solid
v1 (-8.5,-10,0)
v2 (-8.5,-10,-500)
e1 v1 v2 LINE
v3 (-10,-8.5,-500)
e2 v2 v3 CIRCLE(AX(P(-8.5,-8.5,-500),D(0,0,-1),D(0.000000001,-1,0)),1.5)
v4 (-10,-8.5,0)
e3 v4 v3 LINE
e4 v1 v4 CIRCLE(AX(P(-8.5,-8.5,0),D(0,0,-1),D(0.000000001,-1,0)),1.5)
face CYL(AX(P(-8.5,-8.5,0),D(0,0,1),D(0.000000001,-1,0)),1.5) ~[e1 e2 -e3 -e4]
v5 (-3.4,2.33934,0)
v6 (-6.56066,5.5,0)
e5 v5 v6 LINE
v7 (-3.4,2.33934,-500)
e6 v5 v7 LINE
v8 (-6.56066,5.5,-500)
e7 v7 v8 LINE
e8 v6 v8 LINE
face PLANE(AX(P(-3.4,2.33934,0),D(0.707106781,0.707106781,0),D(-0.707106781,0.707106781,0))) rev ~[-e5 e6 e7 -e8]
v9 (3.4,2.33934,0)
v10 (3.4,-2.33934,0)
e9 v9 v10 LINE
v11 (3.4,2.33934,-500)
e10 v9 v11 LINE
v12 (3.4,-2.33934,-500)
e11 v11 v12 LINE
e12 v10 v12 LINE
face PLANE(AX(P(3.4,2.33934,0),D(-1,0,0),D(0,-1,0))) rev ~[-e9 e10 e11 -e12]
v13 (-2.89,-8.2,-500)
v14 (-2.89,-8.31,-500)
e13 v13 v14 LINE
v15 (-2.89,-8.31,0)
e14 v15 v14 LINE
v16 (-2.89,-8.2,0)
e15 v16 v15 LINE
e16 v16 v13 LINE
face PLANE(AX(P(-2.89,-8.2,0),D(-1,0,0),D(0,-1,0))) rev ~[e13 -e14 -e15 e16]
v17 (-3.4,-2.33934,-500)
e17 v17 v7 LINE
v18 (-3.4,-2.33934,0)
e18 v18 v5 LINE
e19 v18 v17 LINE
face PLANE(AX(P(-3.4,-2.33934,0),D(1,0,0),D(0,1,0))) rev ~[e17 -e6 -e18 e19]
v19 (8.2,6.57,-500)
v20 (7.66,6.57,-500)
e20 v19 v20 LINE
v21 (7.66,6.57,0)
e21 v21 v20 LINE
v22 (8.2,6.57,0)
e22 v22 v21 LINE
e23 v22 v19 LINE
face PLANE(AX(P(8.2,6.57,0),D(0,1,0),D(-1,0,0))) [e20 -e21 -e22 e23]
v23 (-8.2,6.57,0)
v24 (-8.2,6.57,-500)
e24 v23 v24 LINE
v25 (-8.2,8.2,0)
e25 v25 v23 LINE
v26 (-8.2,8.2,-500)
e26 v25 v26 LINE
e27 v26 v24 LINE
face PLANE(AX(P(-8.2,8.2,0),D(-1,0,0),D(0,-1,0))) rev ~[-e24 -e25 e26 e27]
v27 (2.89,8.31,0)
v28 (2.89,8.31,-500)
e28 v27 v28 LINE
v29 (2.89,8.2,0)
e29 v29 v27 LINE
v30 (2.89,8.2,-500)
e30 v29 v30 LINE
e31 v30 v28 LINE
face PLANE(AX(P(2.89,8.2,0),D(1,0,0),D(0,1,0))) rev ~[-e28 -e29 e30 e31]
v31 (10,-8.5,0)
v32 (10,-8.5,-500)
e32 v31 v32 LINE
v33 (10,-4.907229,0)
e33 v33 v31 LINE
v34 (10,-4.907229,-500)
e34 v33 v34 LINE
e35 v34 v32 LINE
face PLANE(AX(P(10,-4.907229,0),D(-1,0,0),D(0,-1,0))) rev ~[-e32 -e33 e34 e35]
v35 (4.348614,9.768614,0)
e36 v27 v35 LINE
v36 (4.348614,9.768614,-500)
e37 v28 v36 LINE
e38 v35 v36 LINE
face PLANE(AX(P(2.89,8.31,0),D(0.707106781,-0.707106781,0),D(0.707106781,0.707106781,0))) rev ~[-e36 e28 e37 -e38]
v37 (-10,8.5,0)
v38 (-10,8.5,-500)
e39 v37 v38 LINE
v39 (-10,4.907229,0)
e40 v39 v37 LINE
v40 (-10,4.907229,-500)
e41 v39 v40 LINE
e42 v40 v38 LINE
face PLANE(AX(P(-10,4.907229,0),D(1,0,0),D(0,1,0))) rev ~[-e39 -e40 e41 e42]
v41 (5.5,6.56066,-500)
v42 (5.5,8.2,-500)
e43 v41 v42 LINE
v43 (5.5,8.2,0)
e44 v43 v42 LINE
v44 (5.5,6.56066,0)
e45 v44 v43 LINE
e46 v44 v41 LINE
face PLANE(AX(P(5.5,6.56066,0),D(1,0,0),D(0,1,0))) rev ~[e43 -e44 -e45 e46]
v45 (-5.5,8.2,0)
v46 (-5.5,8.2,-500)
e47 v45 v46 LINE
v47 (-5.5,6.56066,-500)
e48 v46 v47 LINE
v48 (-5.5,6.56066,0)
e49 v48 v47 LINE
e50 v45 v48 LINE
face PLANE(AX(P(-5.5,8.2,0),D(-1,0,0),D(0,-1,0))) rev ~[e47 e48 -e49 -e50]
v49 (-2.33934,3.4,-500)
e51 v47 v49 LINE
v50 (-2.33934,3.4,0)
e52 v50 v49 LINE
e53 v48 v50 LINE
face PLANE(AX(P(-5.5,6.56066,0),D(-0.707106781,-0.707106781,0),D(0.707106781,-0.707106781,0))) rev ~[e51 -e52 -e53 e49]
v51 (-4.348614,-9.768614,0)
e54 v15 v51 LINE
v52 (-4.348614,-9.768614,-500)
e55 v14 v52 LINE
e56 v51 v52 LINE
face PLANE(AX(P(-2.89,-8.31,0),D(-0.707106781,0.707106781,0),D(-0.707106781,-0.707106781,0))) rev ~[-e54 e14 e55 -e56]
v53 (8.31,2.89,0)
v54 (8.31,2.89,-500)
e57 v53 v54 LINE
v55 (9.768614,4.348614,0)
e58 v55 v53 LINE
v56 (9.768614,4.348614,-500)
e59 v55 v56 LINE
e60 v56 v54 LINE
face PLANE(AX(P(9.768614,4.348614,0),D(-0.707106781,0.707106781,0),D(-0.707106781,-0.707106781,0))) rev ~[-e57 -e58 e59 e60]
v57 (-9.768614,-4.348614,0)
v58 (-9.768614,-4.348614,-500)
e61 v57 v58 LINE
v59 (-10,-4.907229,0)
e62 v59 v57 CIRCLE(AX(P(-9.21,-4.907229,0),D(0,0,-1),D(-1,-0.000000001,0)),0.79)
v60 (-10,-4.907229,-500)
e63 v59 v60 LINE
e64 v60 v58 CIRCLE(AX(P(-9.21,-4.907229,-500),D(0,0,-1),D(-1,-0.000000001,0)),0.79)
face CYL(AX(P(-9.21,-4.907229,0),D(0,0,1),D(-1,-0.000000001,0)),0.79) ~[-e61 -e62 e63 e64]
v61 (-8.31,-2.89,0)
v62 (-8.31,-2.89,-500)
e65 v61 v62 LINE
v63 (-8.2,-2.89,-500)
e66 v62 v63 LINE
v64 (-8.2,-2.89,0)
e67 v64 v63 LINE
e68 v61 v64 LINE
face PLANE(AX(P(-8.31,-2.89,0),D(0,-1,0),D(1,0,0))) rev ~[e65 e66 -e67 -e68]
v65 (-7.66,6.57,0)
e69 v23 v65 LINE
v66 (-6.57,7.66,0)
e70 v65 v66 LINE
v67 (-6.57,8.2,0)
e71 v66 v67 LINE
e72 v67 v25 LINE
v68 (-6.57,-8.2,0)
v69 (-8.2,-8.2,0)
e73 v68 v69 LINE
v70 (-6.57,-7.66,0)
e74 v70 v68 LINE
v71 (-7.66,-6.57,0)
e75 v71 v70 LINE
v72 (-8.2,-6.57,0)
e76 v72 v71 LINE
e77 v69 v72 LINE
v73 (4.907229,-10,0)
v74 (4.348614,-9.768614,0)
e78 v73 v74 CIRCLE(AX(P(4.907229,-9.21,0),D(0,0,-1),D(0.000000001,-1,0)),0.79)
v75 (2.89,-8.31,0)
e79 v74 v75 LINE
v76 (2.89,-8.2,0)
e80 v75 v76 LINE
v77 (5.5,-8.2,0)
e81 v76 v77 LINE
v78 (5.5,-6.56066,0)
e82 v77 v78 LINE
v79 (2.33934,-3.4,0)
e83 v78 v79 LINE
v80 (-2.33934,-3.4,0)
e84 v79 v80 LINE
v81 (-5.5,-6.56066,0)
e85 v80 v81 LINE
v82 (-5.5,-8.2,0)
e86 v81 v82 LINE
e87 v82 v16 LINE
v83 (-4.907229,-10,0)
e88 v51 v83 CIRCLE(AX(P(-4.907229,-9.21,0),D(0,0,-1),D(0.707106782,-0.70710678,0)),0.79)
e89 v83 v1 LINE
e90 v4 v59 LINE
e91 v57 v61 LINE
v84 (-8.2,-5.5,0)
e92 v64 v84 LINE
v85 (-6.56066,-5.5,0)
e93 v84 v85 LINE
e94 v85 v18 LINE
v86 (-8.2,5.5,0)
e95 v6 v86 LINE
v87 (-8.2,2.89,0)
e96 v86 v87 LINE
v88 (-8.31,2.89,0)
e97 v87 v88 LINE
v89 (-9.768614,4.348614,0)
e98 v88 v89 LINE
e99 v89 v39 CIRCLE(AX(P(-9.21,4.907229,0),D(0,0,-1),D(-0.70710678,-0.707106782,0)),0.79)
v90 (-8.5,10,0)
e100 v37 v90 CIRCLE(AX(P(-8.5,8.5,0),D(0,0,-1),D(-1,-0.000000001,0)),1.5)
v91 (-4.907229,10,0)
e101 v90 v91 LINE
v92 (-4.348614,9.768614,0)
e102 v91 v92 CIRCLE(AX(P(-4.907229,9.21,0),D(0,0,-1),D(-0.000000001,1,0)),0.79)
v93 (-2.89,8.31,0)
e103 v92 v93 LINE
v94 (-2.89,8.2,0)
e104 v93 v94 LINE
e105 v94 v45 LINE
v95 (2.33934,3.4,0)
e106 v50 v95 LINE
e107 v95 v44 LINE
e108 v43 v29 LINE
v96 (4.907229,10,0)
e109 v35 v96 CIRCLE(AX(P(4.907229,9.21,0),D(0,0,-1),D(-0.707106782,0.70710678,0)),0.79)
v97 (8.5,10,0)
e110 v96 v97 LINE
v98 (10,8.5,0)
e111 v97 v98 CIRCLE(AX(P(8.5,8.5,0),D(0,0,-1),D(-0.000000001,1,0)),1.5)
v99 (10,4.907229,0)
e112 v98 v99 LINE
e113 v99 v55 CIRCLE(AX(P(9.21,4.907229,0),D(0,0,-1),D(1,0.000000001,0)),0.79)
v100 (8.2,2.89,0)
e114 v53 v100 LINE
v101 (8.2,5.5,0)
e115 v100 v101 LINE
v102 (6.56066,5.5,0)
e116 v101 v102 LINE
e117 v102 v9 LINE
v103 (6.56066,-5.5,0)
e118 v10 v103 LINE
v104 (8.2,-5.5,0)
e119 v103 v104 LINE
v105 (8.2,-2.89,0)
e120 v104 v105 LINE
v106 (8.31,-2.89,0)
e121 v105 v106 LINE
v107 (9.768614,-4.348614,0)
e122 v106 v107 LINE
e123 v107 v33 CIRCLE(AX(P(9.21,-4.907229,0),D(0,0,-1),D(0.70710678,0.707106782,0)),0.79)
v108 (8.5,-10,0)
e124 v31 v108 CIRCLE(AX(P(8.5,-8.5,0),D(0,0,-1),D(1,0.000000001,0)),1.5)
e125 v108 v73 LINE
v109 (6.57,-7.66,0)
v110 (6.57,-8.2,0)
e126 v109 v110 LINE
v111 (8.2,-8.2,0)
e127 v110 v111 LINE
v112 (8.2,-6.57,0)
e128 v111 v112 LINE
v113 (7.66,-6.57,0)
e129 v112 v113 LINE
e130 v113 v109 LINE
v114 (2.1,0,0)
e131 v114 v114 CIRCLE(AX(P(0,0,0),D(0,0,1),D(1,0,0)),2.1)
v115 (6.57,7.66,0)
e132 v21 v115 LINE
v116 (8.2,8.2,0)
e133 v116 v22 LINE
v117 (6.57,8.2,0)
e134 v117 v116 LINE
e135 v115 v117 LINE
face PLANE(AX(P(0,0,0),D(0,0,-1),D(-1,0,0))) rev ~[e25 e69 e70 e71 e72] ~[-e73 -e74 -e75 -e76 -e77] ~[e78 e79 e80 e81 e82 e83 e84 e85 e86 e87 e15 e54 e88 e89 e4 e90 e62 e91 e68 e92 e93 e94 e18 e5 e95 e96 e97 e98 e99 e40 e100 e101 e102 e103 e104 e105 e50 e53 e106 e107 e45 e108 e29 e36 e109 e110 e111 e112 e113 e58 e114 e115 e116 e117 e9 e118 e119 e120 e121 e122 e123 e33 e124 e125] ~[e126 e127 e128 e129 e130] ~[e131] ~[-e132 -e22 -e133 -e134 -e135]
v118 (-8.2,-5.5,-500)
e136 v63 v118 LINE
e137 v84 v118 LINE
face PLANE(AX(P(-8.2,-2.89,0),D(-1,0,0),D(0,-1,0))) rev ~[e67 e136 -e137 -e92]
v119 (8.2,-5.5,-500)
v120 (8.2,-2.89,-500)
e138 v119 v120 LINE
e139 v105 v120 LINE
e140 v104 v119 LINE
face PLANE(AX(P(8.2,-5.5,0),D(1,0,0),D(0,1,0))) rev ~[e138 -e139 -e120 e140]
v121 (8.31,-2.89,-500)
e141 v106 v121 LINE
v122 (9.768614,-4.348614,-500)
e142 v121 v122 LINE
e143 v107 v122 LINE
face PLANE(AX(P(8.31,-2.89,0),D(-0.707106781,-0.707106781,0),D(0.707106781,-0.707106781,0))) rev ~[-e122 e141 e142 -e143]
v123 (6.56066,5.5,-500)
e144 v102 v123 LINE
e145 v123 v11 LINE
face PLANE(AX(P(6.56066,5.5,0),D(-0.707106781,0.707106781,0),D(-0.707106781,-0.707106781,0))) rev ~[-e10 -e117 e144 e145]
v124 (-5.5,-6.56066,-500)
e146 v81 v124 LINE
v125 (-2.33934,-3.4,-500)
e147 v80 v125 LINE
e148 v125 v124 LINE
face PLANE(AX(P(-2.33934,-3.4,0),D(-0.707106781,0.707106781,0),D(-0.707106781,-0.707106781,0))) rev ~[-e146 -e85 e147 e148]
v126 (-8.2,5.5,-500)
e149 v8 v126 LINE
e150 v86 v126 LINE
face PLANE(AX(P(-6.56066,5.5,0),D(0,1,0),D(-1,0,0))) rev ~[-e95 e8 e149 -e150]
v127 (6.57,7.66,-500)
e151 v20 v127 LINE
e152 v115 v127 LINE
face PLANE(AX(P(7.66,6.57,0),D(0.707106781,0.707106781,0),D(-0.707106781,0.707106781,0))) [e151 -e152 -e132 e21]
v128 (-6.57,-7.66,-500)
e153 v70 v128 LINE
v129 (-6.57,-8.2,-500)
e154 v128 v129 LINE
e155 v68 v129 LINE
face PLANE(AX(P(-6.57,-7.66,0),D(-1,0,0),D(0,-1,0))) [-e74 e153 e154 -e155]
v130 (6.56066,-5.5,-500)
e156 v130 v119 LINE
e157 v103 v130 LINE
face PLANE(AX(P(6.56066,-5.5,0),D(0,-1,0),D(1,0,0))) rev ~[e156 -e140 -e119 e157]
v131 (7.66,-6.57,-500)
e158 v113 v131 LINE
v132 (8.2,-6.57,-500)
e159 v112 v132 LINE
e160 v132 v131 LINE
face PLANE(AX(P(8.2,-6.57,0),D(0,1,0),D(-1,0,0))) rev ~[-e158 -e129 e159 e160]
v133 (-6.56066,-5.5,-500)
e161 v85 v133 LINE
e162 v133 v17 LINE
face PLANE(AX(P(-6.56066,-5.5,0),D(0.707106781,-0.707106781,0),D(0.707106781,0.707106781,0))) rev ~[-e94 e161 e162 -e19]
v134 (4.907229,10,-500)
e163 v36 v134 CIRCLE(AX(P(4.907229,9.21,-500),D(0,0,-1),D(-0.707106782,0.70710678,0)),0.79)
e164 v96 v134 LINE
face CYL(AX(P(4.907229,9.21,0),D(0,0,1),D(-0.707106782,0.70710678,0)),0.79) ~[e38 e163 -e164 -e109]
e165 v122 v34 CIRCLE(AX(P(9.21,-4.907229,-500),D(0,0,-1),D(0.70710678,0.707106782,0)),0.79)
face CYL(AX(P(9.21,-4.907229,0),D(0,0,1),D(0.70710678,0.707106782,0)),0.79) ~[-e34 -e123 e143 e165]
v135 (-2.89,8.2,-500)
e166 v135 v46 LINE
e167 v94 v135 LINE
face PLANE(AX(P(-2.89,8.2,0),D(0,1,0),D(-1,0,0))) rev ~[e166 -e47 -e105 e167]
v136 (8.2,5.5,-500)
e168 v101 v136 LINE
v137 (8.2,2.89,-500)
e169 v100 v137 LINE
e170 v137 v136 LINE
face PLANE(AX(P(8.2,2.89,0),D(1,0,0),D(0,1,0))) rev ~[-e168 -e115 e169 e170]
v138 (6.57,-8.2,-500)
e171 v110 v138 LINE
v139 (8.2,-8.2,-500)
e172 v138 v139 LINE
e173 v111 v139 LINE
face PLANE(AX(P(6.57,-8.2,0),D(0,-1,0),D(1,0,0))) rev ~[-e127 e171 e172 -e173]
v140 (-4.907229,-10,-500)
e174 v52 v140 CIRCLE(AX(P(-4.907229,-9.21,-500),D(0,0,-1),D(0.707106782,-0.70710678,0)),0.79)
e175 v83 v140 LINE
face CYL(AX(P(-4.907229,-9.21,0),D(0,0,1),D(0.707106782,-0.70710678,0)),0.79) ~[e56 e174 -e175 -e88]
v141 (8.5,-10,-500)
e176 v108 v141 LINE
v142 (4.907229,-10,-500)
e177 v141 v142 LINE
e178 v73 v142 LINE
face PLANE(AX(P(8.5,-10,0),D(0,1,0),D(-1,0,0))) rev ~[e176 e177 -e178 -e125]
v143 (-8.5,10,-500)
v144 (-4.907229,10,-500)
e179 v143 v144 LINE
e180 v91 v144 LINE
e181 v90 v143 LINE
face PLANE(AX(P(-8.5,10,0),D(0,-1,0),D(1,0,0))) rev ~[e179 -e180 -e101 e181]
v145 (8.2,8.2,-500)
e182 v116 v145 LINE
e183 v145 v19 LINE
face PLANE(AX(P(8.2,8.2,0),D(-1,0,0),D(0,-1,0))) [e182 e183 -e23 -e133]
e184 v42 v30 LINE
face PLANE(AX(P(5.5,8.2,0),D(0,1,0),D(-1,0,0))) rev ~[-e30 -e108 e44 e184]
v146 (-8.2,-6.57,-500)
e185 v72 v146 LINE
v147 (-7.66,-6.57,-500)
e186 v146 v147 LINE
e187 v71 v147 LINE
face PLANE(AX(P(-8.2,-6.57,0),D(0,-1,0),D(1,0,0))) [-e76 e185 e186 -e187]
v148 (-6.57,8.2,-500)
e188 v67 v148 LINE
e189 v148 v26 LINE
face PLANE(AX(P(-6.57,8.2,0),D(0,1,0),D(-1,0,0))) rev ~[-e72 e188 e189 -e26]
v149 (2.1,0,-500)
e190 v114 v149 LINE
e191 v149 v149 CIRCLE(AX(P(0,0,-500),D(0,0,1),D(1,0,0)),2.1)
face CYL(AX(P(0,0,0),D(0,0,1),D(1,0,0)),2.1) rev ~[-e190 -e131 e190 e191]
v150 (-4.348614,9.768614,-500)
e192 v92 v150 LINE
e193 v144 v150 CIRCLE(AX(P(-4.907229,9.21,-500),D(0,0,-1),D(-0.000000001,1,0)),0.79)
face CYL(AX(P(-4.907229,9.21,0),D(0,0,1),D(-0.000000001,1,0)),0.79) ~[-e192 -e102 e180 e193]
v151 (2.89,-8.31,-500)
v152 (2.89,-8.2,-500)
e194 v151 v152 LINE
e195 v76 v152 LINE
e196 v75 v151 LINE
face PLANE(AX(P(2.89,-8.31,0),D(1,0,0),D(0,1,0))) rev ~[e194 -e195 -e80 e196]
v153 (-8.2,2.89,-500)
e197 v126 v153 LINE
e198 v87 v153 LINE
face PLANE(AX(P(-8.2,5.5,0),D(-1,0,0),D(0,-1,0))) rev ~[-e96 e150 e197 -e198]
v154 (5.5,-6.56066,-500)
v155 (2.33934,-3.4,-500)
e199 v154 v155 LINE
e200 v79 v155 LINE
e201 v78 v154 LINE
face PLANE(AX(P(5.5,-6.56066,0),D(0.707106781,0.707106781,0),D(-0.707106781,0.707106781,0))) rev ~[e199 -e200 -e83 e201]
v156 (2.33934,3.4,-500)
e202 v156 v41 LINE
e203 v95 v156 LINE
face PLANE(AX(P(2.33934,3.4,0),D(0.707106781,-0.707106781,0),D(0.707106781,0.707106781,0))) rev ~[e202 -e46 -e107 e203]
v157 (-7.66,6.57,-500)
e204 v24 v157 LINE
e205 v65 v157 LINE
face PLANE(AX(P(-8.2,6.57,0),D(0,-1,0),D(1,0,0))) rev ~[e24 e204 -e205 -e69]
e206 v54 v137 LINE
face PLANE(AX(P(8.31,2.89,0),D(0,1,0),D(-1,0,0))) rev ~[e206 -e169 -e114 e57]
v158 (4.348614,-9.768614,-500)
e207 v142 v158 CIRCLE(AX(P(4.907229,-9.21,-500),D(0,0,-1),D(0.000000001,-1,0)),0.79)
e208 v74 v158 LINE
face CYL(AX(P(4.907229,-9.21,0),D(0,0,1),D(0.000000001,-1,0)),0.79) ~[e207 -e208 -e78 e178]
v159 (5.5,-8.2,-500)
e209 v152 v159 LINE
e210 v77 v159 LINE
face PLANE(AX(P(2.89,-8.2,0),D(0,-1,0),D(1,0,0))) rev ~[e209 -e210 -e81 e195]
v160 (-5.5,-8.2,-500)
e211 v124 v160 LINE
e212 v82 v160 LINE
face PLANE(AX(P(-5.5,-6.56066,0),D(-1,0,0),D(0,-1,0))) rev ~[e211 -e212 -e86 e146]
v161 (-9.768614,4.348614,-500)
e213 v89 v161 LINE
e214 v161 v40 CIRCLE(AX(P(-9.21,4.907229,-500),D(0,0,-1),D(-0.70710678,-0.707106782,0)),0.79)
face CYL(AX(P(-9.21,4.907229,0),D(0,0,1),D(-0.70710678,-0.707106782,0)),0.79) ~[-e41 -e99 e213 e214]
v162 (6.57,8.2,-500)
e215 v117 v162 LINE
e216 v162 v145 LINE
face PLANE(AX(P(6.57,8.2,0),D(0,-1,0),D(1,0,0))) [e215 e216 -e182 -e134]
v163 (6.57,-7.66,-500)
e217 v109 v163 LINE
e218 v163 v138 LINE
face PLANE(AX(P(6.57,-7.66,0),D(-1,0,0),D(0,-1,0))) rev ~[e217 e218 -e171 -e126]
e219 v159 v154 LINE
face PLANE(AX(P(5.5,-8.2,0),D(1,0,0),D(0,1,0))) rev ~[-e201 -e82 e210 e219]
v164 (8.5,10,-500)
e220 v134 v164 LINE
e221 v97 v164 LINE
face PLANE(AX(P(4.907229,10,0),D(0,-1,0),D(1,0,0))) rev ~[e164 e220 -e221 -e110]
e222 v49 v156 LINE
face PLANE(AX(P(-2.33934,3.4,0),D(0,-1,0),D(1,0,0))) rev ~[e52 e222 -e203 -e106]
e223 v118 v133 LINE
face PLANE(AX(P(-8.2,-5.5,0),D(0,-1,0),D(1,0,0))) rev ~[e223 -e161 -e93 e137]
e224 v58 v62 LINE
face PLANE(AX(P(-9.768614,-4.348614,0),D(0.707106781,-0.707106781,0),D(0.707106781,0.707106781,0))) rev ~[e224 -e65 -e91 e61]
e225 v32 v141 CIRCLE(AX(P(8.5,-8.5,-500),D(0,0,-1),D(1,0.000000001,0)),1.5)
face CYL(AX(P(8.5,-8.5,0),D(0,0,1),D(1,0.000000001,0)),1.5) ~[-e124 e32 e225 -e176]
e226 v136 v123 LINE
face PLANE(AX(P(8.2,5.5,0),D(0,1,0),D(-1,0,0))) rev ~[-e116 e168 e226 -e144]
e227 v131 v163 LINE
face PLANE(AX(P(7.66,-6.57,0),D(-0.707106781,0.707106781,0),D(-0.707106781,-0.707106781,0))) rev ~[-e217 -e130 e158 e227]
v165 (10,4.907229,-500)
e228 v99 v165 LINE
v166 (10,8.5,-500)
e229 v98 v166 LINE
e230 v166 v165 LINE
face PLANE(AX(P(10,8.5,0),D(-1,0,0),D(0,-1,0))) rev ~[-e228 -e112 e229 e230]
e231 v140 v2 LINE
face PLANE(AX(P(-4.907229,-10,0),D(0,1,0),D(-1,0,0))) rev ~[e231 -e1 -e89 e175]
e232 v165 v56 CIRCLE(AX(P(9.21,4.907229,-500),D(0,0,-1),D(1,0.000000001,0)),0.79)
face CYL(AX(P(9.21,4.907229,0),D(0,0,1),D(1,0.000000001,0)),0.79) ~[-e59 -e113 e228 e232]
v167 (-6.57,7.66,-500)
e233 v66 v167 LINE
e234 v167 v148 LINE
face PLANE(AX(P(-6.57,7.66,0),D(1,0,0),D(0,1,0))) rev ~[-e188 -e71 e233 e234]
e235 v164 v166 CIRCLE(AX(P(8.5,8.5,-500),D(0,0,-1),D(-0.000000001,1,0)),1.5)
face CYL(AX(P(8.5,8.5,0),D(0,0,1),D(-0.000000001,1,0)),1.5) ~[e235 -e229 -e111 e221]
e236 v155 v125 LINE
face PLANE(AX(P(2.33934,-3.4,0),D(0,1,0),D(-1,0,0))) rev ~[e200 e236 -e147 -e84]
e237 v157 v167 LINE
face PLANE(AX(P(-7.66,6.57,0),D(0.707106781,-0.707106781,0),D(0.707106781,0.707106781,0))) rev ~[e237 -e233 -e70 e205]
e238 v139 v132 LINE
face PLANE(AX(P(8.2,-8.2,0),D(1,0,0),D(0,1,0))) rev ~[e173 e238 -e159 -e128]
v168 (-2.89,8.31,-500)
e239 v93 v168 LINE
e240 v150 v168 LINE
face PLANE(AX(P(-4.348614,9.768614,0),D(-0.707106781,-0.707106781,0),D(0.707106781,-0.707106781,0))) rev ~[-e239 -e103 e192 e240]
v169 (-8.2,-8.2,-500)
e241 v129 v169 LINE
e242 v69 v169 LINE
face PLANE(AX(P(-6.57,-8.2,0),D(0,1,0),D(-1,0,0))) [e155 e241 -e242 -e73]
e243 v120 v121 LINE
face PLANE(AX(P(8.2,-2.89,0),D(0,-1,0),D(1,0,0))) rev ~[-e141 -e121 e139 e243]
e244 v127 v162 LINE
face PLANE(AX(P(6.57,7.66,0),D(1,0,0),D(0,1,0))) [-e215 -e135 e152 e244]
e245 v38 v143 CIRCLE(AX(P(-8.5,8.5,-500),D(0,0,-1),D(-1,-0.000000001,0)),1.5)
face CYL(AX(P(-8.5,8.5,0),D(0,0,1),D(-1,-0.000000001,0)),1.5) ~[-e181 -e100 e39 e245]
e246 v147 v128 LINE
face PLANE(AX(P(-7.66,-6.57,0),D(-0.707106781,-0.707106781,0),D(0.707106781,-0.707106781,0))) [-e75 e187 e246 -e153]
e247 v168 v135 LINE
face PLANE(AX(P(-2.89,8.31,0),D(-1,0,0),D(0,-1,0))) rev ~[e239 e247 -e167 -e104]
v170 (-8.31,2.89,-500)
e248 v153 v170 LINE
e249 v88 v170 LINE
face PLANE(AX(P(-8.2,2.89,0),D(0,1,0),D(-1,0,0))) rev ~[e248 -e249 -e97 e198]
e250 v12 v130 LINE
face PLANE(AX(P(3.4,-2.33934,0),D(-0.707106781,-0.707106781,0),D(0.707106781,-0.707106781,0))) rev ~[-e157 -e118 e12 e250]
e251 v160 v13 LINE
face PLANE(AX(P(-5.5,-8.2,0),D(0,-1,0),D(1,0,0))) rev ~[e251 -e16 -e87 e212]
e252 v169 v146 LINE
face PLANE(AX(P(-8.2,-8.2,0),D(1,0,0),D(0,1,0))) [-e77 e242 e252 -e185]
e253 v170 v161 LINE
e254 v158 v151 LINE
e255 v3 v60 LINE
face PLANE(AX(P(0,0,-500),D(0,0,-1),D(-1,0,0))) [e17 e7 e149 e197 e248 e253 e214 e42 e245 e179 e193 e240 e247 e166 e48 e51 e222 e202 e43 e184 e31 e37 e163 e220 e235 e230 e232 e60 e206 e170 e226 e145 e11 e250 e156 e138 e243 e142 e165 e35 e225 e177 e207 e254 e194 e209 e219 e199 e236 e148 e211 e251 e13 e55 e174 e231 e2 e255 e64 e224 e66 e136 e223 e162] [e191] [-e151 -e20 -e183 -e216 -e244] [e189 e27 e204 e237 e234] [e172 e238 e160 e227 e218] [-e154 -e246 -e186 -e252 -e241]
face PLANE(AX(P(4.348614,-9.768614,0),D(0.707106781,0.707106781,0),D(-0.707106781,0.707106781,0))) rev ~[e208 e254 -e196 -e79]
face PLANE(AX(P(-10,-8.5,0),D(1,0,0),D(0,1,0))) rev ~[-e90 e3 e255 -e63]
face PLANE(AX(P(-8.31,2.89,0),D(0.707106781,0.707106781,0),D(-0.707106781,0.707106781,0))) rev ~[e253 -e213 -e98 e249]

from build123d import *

# Parameters (mm, degrees)
SKETCH6_R           = 2.1
BOSS_EXTRUDE1_DEPTH = 500


with BuildPart() as part:
    # Sketch6 → Boss-Extrude1 (new body)
    with BuildSketch(Plane.XY):
        with BuildLine():
            Line((-3.4, -2.339339828), (-3.4, 2.339339828))
            Line((-3.4, 2.339339828), (-6.560660172, 5.5))
            Line((-6.560660172, 5.5), (-8.2, 5.5))
            Line((-8.2, 5.5), (-8.2, 2.89))
            Line((-8.2, 2.89), (-8.31, 2.89))
            Line((-8.31, 2.89), (-9.768614357, 4.348614357))
            ThreePointArc((-9.768614357, 4.348614357), (-9.939864831, 4.604908803), (-10, 4.907228714))
            Line((-10, 4.907228714), (-10, 8.5))
            ThreePointArc((-10, 8.5), (-9.560660172, 9.560660172), (-8.5, 10))
            Line((-8.5, 10), (-4.907228714, 10))
            ThreePointArc((-4.907228714, 10), (-4.604908803, 9.939864831), (-4.348614357, 9.768614357))
            Line((-4.348614357, 9.768614357), (-2.89, 8.31))
            Line((-2.89, 8.31), (-2.89, 8.2))
            Line((-2.89, 8.2), (-5.5, 8.2))
            Line((-5.5, 8.2), (-5.5, 6.560660172))
            Line((-5.5, 6.560660172), (-2.339339828, 3.4))
            Line((-2.339339828, 3.4), (2.339339828, 3.4))
            Line((2.339339828, 3.4), (5.5, 6.560660172))
            Line((5.5, 6.560660172), (5.5, 8.2))
            Line((5.5, 8.2), (2.89, 8.2))
            Line((2.89, 8.2), (2.89, 8.31))
            Line((2.89, 8.31), (4.348614357, 9.768614357))
            ThreePointArc((4.348614357, 9.768614357), (4.604908803, 9.939864831), (4.907228714, 10))
            Line((4.907228714, 10), (8.5, 10))
            ThreePointArc((8.5, 10), (9.560660172, 9.560660172), (10, 8.5))
            Line((10, 8.5), (10, 4.907228714))
            ThreePointArc((10, 4.907228714), (9.939864831, 4.604908803), (9.768614357, 4.348614357))
            Line((9.768614357, 4.348614357), (8.31, 2.89))
            Line((8.31, 2.89), (8.2, 2.89))
            Line((8.2, 2.89), (8.2, 5.5))
            Line((8.2, 5.5), (6.560660172, 5.5))
            Line((6.560660172, 5.5), (3.4, 2.339339828))
            Line((3.4, 2.339339828), (3.4, -2.339339828))
            Line((3.4, -2.339339828), (6.560660172, -5.5))
            Line((6.560660172, -5.5), (8.2, -5.5))
            Line((8.2, -5.5), (8.2, -2.89))
            Line((8.2, -2.89), (8.31, -2.89))
            Line((8.31, -2.89), (9.768614357, -4.348614357))
            ThreePointArc((9.768614357, -4.348614357), (9.939864831, -4.604908803), (10, -4.907228714))
            Line((10, -4.907228714), (10, -8.5))
            ThreePointArc((10, -8.5), (9.560660172, -9.560660172), (8.5, -10))
            Line((8.5, -10), (4.907228714, -10))
            ThreePointArc((4.907228714, -10), (4.604908803, -9.939864831), (4.348614357, -9.768614357))
            Line((4.348614357, -9.768614357), (2.89, -8.31))
            Line((2.89, -8.31), (2.89, -8.2))
            Line((2.89, -8.2), (5.5, -8.2))
            Line((5.5, -8.2), (5.5, -6.560660172))
            Line((5.5, -6.560660172), (2.339339828, -3.4))
            Line((2.339339828, -3.4), (-2.339339828, -3.4))
            Line((-2.339339828, -3.4), (-5.5, -6.560660172))
            Line((-5.5, -6.560660172), (-5.5, -8.2))
            Line((-5.5, -8.2), (-2.89, -8.2))
            Line((-2.89, -8.2), (-2.89, -8.31))
            Line((-2.89, -8.31), (-4.348614357, -9.768614357))
            ThreePointArc((-4.348614357, -9.768614357), (-4.604908803, -9.939864831), (-4.907228714, -10))
            Line((-4.907228714, -10), (-8.5, -10))
            ThreePointArc((-8.5, -10), (-9.560660172, -9.560660172), (-10, -8.5))
            Line((-10, -8.5), (-10, -4.907228714))
            ThreePointArc((-10, -4.907228714), (-9.939864831, -4.604908803), (-9.768614357, -4.348614357))
            Line((-9.768614357, -4.348614357), (-8.31, -2.89))
            Line((-8.31, -2.89), (-8.2, -2.89))
            Line((-8.2, -2.89), (-8.2, -5.5))
            Line((-8.2, -5.5), (-6.560660172, -5.5))
            Line((-6.560660172, -5.5), (-3.4, -2.339339828))
        make_face()
        Circle(SKETCH6_R, mode=Mode.SUBTRACT)
        Polygon((-7.66, 6.57), (-6.57, 7.66), (-6.57, 8.2), (-8.2, 8.2), (-8.2, 6.57), align=None, mode=Mode.SUBTRACT)
        Polygon((8.2, 6.57), (7.66, 6.57), (6.57, 7.66), (6.57, 8.2), (8.2, 8.2), align=None, mode=Mode.SUBTRACT)
        Polygon((7.66, -6.57), (6.57, -7.66), (6.57, -8.2), (8.2, -8.2), (8.2, -6.57), align=None, mode=Mode.SUBTRACT)
        Polygon((-8.2, -6.57), (-7.66, -6.57), (-6.57, -7.66), (-6.57, -8.2), (-8.2, -8.2), align=None, mode=Mode.SUBTRACT)
    extrude(amount=-BOSS_EXTRUDE1_DEPTH)


solid = part.part
